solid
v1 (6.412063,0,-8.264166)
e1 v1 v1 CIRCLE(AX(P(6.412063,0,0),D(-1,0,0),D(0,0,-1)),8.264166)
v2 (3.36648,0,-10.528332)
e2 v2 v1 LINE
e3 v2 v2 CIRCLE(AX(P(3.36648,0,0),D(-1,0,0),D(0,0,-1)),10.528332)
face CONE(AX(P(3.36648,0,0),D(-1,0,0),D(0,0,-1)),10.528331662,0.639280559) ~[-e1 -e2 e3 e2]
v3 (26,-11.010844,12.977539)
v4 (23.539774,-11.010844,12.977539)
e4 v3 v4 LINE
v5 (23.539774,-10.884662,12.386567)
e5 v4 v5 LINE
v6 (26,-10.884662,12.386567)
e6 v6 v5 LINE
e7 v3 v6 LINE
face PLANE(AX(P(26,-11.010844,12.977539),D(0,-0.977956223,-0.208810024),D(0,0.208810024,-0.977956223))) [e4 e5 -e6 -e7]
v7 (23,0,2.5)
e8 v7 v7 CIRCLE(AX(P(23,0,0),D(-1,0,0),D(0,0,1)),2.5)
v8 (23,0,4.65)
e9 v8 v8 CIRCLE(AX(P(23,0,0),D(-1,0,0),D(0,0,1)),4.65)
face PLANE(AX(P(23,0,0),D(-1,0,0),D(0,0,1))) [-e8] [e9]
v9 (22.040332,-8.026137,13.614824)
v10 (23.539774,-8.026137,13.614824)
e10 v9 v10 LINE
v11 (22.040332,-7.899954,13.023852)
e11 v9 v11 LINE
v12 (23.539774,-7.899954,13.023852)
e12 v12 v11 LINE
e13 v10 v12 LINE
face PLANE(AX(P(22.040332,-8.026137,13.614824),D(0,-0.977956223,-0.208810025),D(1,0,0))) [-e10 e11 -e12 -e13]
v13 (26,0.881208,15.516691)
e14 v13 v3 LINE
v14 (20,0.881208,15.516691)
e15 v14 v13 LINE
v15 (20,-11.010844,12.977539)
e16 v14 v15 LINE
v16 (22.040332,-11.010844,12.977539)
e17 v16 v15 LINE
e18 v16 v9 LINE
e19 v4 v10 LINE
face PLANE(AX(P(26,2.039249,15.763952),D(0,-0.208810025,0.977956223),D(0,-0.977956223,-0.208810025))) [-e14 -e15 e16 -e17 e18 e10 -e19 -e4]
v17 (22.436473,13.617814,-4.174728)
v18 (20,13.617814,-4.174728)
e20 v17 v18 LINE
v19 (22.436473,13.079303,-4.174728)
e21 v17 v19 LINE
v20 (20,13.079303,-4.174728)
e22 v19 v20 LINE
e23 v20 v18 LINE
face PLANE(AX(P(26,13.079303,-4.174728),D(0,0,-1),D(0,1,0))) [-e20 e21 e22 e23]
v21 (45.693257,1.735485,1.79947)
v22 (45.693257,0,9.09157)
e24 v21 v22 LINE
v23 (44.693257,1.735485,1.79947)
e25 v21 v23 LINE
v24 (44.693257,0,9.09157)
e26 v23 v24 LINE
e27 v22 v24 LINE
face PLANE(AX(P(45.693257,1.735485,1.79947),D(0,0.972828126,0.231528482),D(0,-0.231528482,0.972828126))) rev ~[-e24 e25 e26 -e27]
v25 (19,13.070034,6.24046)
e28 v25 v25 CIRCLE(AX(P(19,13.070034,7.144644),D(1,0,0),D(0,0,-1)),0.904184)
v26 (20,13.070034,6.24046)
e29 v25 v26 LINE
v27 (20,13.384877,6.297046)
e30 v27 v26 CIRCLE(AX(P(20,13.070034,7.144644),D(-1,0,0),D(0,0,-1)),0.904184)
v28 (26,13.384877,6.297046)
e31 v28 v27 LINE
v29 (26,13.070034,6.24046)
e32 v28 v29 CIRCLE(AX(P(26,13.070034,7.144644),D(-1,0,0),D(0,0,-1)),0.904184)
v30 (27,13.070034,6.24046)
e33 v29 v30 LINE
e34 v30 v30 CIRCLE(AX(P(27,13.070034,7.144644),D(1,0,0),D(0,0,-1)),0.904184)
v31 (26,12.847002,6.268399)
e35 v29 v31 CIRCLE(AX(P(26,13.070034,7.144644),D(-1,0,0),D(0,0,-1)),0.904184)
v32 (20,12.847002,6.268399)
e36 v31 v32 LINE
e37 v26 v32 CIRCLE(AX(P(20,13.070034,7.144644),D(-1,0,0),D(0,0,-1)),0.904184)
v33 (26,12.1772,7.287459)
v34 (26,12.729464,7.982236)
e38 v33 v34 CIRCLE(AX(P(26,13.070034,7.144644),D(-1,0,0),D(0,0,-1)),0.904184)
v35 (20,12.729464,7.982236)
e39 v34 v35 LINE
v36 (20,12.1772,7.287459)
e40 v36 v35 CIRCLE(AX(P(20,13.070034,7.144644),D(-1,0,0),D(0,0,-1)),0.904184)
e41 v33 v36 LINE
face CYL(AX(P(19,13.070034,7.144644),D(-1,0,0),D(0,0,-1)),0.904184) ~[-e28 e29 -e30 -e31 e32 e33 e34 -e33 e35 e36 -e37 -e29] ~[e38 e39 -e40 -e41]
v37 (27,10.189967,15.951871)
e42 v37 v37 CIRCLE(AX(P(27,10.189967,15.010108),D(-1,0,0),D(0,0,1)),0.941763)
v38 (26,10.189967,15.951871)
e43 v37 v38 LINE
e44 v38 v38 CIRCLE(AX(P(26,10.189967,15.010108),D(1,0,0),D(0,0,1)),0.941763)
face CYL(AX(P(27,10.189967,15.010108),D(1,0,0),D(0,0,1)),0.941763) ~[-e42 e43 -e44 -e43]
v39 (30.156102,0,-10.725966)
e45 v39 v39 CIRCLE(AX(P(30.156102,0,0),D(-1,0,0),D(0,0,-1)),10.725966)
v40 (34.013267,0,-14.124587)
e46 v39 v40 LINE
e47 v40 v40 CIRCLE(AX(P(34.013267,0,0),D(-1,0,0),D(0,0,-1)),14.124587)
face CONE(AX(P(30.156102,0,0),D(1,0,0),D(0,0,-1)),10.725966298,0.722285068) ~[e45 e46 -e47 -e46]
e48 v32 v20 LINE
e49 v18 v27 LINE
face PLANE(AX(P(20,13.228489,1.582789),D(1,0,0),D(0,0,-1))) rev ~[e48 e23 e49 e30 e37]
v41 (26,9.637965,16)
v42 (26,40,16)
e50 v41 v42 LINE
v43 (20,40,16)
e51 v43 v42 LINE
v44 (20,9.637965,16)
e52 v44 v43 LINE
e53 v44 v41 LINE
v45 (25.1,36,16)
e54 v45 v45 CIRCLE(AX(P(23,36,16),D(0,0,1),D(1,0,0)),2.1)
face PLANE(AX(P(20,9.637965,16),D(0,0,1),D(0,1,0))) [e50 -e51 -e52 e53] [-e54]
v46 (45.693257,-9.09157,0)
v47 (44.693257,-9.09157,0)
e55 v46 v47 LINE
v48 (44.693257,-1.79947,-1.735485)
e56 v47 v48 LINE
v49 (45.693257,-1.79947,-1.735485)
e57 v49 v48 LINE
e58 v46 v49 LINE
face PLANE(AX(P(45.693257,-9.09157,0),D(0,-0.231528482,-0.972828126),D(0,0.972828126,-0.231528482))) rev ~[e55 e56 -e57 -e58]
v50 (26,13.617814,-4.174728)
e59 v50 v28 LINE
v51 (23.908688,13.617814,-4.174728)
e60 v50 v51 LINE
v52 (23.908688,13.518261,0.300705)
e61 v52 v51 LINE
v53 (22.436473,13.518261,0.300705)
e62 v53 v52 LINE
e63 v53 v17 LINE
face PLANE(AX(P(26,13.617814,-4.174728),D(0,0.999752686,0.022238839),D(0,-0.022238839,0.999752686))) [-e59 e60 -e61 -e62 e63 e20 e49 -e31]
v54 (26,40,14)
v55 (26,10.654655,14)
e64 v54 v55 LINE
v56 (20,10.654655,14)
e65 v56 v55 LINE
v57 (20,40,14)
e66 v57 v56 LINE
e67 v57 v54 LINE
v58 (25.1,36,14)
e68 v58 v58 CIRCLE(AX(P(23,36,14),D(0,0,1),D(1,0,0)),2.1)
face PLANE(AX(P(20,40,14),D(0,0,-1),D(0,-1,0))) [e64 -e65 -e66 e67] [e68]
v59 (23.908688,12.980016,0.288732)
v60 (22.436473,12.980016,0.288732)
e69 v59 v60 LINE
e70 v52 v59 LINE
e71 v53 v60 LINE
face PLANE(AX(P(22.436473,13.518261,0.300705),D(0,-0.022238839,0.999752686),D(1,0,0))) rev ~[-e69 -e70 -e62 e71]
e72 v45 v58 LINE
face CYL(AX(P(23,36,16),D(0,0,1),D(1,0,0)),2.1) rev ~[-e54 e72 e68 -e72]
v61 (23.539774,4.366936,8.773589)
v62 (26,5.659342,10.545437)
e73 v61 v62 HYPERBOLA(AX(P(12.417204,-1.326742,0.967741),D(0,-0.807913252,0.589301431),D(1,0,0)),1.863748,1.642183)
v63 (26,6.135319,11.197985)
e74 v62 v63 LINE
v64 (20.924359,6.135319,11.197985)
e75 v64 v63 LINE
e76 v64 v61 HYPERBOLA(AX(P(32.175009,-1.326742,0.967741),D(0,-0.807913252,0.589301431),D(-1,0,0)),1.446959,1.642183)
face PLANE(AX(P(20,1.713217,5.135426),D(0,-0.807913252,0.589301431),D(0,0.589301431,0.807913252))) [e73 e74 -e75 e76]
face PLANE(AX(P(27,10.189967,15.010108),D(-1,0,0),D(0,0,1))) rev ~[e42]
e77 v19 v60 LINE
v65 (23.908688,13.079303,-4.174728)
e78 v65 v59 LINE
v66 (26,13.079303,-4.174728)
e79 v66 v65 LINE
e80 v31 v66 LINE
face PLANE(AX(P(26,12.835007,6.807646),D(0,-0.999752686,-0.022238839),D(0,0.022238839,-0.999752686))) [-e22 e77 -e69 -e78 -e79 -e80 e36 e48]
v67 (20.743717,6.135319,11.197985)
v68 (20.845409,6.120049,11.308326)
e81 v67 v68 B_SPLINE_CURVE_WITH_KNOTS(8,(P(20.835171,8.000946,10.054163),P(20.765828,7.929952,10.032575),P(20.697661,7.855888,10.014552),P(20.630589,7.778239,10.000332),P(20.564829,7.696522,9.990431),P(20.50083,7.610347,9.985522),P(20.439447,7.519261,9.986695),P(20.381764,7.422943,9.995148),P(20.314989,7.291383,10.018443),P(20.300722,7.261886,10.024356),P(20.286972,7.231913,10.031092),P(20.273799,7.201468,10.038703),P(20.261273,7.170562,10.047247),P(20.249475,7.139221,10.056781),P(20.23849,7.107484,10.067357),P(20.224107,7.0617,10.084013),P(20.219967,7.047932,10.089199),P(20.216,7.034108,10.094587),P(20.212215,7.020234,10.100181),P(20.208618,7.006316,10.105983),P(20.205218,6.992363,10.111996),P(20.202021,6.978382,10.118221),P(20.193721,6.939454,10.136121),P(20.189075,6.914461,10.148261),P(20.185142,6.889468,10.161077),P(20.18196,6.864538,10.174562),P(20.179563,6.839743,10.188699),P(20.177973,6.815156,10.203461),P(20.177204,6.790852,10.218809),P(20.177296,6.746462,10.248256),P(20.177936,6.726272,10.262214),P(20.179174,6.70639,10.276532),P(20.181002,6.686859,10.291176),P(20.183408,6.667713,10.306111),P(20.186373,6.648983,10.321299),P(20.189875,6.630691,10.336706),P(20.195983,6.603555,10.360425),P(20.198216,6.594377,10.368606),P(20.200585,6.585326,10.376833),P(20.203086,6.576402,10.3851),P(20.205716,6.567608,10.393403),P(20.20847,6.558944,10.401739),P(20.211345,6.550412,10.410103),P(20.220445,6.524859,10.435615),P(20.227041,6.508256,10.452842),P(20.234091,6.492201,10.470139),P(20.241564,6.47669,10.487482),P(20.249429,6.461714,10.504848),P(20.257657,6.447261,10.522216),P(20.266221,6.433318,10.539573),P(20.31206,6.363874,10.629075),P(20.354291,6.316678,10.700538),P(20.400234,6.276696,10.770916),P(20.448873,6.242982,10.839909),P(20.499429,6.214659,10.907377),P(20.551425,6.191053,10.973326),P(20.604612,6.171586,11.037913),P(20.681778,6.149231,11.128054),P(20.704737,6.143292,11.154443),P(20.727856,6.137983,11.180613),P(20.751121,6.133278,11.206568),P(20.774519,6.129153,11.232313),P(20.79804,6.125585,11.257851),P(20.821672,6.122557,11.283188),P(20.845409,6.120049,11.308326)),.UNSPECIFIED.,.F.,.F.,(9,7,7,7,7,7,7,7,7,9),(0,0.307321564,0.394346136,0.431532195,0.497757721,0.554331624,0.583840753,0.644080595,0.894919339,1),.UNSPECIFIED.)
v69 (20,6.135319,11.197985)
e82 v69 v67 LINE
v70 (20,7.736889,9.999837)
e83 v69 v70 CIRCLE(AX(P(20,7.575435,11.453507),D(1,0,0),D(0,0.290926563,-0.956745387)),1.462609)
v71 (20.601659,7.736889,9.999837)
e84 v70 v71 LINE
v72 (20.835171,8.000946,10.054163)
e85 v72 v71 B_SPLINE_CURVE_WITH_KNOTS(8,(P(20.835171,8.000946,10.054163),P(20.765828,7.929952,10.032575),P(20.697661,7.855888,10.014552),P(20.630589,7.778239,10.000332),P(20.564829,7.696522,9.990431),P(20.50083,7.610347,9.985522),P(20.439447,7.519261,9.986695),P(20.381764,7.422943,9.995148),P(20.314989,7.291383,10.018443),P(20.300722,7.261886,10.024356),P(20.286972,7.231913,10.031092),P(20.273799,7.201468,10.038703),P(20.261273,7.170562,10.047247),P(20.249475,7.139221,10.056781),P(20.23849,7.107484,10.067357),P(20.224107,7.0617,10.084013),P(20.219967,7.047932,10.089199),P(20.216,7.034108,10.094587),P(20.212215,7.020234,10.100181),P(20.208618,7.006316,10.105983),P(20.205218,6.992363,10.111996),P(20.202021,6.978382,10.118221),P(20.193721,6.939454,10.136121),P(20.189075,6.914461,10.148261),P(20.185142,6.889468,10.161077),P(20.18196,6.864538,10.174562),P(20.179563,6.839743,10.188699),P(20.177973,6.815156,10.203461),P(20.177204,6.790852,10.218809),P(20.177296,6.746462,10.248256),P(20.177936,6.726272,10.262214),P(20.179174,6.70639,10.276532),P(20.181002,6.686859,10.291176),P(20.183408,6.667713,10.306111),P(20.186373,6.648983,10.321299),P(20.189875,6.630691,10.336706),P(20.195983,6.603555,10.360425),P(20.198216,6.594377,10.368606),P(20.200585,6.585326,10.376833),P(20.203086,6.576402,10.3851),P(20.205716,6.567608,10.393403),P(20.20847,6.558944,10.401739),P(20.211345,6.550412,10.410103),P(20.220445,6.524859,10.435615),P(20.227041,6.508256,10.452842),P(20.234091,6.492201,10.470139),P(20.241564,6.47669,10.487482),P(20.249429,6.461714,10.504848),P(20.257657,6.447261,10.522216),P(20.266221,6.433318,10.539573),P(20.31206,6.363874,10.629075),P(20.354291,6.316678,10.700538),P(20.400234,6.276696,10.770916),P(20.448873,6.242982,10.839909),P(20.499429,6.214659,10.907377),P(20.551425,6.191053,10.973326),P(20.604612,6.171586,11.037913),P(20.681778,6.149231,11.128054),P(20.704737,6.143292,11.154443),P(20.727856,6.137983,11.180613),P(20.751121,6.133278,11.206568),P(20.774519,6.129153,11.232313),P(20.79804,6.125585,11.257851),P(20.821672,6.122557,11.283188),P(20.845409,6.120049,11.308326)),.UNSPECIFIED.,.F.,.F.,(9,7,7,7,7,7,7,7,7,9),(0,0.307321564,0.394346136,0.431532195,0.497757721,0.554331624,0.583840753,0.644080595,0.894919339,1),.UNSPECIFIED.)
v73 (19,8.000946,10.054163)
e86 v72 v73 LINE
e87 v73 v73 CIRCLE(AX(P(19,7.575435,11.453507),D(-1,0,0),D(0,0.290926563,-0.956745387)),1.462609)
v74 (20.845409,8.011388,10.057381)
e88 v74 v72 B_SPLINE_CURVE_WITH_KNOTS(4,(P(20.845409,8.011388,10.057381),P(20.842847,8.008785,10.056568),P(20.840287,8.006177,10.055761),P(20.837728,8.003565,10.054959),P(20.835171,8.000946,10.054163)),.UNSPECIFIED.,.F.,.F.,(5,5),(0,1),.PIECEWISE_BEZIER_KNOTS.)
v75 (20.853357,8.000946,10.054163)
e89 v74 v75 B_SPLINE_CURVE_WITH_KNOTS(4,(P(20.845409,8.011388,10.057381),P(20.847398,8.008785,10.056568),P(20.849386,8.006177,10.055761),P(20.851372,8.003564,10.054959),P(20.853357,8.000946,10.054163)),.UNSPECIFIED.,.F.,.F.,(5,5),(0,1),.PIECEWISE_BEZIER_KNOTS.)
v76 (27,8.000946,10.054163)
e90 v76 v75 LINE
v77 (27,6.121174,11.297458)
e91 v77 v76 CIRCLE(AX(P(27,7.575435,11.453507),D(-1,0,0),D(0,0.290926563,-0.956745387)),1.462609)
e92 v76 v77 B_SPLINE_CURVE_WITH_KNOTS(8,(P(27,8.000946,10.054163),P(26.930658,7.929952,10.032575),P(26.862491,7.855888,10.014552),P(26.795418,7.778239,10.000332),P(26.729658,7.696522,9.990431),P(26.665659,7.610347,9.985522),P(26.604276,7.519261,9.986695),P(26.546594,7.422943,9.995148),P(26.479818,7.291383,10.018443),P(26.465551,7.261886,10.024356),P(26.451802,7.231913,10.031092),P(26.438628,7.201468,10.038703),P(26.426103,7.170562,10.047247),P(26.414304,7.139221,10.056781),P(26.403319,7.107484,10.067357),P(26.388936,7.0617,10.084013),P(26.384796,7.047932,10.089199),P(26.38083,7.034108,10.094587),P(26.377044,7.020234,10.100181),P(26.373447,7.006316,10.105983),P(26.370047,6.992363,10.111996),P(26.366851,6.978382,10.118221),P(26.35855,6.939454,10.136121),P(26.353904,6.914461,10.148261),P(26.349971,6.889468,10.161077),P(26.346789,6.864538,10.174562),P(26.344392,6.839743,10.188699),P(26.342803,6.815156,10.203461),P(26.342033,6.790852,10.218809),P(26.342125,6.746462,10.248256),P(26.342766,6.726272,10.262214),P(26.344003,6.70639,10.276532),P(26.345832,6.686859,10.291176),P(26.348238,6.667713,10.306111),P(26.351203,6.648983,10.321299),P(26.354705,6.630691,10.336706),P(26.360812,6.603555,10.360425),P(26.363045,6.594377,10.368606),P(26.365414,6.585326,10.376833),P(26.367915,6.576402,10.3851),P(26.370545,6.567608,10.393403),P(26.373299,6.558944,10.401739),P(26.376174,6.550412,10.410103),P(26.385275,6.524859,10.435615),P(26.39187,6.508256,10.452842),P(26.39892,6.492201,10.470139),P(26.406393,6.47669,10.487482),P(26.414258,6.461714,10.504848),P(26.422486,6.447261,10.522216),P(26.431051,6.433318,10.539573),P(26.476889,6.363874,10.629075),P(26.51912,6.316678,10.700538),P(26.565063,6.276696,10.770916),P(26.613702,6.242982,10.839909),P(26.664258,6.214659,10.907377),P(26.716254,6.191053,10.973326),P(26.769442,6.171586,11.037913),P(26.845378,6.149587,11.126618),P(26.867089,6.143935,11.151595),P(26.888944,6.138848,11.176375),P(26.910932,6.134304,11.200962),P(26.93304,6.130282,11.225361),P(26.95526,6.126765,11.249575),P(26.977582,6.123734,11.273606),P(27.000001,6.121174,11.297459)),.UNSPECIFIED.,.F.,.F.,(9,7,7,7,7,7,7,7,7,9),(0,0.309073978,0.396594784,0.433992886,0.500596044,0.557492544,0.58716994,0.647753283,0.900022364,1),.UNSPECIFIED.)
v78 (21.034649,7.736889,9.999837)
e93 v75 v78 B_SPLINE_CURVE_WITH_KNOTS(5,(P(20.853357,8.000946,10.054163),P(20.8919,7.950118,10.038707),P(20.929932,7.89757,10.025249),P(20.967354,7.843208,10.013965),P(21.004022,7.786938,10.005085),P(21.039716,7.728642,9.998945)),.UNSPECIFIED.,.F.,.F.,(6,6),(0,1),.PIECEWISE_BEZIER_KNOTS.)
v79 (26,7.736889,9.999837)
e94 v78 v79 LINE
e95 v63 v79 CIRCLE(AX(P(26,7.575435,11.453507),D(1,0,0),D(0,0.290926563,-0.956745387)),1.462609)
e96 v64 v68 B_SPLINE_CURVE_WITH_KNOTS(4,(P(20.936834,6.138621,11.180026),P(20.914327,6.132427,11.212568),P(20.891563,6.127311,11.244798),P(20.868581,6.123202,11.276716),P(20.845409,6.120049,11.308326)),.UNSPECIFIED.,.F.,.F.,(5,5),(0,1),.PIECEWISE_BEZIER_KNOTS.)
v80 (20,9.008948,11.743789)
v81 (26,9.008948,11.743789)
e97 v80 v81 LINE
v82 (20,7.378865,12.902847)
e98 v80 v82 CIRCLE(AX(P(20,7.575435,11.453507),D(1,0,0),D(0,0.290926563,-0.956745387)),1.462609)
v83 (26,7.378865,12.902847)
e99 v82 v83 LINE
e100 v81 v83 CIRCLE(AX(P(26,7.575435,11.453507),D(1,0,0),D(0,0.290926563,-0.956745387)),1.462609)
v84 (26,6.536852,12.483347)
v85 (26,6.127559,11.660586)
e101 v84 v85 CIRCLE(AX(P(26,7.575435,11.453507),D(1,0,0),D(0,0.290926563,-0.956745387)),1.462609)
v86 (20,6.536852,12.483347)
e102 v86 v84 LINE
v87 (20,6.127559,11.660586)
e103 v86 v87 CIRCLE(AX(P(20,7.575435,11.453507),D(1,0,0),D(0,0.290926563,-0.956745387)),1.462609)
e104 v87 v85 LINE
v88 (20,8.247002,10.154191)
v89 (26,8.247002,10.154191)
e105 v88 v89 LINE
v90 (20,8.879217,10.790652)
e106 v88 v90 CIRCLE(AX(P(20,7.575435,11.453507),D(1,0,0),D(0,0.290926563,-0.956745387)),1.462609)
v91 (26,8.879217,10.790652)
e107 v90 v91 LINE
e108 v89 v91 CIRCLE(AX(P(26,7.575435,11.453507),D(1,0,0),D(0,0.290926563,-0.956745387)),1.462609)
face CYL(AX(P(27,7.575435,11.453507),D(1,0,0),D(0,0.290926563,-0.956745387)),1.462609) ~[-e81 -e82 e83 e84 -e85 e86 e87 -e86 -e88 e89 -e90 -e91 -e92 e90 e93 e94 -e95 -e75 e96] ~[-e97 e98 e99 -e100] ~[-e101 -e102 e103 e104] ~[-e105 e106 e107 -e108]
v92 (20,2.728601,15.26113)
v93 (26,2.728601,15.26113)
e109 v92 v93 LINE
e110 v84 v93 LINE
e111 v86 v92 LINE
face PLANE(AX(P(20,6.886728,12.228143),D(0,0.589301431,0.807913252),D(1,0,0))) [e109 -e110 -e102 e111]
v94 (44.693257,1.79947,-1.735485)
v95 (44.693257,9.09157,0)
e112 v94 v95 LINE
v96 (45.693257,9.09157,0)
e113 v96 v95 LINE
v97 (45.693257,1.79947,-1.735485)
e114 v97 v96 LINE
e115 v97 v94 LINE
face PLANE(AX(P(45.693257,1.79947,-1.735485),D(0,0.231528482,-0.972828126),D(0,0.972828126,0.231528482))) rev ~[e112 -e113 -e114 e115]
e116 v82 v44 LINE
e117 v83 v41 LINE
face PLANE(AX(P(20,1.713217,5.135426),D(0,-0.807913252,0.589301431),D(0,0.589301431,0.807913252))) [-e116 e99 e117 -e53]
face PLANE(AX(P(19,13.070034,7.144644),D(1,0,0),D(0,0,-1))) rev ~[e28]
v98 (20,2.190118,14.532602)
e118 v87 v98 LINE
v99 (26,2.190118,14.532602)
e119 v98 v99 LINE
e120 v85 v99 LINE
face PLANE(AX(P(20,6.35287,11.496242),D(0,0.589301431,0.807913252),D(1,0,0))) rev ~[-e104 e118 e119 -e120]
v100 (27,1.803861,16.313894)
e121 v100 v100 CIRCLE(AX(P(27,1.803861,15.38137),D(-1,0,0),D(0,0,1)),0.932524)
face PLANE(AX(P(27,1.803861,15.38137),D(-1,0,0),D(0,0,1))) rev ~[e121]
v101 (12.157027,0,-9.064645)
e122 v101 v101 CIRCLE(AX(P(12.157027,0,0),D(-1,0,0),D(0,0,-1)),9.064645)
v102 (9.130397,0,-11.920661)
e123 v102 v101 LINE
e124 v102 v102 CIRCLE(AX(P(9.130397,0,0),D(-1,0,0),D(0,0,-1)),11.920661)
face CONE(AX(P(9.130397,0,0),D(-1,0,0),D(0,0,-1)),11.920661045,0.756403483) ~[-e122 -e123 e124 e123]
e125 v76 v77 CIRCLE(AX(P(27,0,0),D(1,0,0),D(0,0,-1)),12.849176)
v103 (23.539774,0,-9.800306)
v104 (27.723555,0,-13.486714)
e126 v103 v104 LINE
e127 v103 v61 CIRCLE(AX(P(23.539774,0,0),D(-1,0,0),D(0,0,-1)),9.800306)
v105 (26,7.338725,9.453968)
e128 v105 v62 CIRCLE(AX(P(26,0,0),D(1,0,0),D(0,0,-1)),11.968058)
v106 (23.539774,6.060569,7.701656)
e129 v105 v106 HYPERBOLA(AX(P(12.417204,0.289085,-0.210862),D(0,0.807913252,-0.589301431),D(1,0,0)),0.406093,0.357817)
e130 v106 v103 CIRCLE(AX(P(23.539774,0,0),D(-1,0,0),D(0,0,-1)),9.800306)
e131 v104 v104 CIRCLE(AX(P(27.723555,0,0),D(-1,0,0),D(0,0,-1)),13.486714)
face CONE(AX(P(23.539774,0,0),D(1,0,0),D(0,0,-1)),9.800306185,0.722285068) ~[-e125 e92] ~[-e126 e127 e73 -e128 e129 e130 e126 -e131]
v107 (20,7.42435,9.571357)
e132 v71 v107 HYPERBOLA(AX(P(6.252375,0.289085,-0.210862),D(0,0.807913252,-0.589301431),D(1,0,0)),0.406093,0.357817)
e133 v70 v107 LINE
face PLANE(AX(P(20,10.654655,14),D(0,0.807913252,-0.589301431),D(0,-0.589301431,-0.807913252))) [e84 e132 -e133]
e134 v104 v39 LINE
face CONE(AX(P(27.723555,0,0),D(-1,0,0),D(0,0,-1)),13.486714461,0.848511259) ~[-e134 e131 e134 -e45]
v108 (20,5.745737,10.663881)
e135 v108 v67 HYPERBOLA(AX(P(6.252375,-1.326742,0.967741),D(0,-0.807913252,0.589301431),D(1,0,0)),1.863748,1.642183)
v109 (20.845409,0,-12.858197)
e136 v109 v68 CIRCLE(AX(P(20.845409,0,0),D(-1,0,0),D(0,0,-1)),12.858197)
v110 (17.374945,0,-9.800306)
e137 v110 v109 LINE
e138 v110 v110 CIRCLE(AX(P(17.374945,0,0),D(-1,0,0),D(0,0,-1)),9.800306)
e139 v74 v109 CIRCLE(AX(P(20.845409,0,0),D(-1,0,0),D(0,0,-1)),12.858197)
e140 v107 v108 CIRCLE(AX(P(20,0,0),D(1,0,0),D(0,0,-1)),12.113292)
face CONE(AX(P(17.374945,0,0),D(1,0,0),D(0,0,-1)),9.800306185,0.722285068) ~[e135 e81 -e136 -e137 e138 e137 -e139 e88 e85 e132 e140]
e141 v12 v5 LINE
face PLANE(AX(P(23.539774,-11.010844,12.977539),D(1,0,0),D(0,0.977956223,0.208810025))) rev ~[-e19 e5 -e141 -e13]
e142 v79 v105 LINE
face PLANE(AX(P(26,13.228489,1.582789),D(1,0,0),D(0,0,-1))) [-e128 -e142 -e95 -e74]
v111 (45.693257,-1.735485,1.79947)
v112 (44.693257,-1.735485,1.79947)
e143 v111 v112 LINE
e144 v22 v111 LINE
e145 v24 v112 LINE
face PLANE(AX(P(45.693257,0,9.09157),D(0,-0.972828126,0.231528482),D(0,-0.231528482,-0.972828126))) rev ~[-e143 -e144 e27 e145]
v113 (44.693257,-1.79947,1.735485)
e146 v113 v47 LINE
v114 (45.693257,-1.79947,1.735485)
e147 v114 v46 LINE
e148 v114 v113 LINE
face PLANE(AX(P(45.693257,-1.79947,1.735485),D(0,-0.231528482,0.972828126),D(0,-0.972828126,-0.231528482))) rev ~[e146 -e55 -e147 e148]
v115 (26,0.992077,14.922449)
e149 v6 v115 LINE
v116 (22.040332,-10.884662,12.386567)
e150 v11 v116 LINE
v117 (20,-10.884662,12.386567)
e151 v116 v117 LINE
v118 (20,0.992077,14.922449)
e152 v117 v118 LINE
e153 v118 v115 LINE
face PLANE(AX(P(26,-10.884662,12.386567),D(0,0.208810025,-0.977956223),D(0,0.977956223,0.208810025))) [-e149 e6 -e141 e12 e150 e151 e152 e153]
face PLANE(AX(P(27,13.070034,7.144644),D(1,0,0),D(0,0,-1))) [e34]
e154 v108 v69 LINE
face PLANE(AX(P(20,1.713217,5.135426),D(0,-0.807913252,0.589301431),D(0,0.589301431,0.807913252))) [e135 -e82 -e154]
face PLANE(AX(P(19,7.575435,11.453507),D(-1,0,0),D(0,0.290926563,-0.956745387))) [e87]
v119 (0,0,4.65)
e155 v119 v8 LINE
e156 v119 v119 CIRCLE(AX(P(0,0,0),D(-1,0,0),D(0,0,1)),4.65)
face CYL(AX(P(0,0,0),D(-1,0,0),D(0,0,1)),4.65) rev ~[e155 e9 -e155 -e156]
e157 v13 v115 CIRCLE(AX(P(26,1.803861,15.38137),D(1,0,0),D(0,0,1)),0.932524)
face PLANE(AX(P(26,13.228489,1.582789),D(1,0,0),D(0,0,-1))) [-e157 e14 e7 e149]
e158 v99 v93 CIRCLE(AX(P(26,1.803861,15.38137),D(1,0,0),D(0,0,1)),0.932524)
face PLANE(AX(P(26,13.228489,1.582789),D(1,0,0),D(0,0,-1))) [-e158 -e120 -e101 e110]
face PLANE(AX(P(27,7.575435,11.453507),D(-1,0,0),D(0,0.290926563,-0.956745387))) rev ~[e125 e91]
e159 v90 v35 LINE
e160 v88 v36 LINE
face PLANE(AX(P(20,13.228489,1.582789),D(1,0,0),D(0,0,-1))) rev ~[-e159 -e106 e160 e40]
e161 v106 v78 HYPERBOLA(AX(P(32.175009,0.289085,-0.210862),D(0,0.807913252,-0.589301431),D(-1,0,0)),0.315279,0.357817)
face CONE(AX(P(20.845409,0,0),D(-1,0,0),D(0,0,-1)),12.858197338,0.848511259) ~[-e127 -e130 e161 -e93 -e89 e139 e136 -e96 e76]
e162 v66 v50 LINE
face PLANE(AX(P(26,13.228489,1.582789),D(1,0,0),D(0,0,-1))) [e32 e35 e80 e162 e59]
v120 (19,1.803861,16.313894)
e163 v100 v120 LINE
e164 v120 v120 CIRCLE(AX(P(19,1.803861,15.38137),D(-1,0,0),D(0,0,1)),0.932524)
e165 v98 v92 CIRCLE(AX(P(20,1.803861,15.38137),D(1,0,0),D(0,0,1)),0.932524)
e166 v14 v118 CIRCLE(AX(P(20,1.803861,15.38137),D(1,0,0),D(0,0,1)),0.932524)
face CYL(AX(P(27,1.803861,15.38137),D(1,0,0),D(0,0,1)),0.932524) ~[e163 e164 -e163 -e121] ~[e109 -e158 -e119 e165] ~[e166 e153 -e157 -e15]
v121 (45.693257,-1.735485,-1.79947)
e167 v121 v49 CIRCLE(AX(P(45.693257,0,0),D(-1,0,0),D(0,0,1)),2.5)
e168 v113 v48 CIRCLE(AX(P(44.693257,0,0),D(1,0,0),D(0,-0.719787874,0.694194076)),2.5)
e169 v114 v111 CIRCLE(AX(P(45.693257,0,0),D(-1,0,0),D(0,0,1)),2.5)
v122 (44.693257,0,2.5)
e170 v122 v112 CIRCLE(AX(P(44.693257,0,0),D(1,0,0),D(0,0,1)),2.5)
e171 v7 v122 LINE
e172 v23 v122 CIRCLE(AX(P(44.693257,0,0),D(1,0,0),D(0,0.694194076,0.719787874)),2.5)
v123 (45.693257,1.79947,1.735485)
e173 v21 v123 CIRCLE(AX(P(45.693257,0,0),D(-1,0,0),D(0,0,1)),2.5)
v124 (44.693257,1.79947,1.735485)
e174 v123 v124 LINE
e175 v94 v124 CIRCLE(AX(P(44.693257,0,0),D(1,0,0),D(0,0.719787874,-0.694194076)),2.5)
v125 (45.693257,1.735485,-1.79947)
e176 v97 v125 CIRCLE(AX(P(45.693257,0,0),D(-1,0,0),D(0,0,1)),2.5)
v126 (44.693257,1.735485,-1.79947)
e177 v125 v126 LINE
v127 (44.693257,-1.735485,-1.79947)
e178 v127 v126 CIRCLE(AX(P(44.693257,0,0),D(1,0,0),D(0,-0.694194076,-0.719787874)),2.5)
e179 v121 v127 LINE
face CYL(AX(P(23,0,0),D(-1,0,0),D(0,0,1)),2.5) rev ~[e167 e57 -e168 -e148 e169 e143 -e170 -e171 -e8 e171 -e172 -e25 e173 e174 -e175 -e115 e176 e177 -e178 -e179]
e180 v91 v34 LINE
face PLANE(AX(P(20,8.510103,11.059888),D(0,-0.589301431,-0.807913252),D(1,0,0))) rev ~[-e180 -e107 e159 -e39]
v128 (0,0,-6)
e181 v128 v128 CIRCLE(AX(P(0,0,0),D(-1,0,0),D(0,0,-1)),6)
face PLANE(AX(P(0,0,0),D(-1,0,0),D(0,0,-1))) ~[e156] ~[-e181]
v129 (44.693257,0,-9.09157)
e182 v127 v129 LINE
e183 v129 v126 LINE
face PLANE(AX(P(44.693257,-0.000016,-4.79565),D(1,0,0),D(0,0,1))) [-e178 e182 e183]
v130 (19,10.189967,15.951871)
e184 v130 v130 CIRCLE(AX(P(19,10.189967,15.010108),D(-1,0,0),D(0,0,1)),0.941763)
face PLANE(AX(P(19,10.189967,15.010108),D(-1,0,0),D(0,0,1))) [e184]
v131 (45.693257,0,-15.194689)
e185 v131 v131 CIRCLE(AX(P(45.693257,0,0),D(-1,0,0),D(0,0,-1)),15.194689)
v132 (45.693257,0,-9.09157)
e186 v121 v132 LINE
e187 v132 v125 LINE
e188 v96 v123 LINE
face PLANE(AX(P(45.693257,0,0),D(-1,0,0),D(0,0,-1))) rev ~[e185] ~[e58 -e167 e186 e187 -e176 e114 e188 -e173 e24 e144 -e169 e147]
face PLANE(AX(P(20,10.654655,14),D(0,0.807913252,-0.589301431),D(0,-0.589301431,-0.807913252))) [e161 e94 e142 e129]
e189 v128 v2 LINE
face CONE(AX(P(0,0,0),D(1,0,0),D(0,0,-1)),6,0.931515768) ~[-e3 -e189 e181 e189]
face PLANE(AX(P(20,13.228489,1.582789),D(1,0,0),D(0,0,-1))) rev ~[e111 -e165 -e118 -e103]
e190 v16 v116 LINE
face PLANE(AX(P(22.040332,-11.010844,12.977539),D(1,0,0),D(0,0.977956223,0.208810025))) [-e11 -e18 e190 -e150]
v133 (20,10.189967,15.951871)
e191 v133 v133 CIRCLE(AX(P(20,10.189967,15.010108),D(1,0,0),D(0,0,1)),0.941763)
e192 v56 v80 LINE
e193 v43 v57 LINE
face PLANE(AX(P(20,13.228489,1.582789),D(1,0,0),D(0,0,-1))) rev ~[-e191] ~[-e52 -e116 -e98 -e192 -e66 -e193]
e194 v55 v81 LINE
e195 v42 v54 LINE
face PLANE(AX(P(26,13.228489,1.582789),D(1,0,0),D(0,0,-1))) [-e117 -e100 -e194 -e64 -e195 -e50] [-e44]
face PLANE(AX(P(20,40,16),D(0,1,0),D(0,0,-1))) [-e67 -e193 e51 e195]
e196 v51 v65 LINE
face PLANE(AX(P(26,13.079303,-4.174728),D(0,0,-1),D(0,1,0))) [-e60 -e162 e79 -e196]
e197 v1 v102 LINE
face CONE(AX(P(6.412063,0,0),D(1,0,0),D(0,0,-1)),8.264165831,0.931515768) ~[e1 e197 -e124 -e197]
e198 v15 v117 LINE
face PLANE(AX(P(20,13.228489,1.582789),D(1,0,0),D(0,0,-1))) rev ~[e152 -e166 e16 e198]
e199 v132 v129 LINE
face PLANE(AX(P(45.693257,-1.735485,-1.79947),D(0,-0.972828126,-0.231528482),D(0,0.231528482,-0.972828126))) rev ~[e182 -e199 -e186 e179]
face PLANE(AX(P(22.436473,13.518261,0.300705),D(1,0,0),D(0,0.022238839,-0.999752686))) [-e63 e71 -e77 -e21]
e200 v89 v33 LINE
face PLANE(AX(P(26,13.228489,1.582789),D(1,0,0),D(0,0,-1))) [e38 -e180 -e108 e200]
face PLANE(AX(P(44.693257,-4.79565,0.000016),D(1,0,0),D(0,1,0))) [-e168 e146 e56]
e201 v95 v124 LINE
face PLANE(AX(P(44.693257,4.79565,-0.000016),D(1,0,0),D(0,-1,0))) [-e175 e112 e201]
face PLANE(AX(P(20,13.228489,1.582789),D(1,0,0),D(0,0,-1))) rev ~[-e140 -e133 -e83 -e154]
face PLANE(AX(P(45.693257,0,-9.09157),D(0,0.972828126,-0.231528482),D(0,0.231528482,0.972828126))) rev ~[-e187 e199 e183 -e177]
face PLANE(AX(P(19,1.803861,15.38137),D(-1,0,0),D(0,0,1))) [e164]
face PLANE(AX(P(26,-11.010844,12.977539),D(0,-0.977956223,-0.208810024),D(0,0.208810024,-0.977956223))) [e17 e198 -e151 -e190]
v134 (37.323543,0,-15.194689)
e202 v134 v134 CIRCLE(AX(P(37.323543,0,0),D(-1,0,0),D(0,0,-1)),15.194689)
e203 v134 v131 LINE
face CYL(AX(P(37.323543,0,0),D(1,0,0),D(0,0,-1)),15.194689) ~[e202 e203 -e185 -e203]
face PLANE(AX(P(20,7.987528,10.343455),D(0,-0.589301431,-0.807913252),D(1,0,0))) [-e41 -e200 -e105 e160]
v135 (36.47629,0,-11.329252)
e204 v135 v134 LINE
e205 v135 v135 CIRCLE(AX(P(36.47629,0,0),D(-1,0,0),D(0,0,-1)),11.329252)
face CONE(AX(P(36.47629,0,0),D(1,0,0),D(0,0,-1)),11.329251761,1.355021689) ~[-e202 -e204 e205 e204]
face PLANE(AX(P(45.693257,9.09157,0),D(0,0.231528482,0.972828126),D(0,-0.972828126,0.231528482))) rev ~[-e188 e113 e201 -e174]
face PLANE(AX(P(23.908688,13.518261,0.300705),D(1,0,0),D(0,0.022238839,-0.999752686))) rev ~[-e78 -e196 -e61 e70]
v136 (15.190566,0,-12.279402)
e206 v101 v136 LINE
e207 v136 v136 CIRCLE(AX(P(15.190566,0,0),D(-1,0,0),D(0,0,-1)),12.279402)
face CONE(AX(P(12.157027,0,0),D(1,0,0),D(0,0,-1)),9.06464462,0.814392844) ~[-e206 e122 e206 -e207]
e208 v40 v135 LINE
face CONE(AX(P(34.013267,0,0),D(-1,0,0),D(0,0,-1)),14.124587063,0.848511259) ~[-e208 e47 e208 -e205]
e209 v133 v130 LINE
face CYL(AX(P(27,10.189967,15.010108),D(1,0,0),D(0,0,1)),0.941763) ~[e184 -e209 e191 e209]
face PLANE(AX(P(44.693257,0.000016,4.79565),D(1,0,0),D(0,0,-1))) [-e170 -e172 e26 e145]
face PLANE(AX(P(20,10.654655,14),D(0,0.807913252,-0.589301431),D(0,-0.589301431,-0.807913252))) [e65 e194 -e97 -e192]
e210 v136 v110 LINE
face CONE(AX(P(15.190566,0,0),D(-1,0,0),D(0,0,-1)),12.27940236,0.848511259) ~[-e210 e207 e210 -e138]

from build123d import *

# Parameters (mm, degrees)
SKIZZE3_R                             = 4.65
SCHNITT_LINEAR_AUSTRAGEN1_DEPTH       = 23
SKIZZE4_R                             = 2.5
SCHNITT_LINEAR_AUSTRAGEN2_DEPTH       = 32.476295332
AUFSATZ_LINEAR_AUSTRAGEN2_DEPTH       = 6
SKIZZE10_R                            = 2.1
SCHNITT_LINEAR_AUSTRAGEN4_DEPTH       = 6
SKIZZE13_W                            = 6
SKIZZE13_H                            = 0.905916259
AUFSATZ_LINEAR_AUSTRAGEN3_DEPTH       = 6
SKIZZE14_W                            = 6
SKIZZE14_H                            = 0.886770142
AUFSATZ_LINEAR_AUSTRAGEN4_DEPTH       = 6
AUFSATZ_LINEAR_AUSTRAGEN5_DEPTH       = 6
AUFSATZ_LINEAR_AUSTRAGEN6_DEPTH       = 6
SCHNITT_LINEAR_AUSTRAGEN5_DEPTH       = 1
KREISMUSTER1_COUNT                    = 4
AUFSATZ_LINEAR_AUSTRAGEN7_DEPTH       = 1
AUFSATZ_LINEAR_AUSTRAGEN7_DEPTH_BACK  = 7
SKIZZE24_R                            = 1.46260877
AUFSATZ_LINEAR_AUSTRAGEN8_DEPTH       = 1
AUFSATZ_LINEAR_AUSTRAGEN8_DEPTH_BACK  = 7
SKIZZE25_R                            = 0.941763398
AUFSATZ_LINEAR_AUSTRAGEN9_DEPTH       = 1
AUFSATZ_LINEAR_AUSTRAGEN9_DEPTH_BACK  = 7
SKIZZE26_R                            = 0.9041841
AUFSATZ_LINEAR_AUSTRAGEN10_DEPTH      = 1
AUFSATZ_LINEAR_AUSTRAGEN10_DEPTH_BACK = 7
SKIZZE27_R                            = 0.932524048
SKIZZE28_W                            = 1.499442475
SKIZZE28_H                            = 3.05198511
SCHNITT_LINEAR_AUSTRAGEN6_DEPTH       = 2
SKIZZE29_W                            = 1.472214026
SKIZZE29_H                            = 4.476539639
SCHNITT_LINEAR_AUSTRAGEN7_DEPTH       = 0.6


with BuildPart() as part:
    # Skizze2 → Rotation5 (revolve)
    with BuildSketch(Plane.XY, mode=Mode.PRIVATE) as rotation5_sk:
        Polygon((0, 0), (0, 6), (3.36648022, 10.528331662), (6.412062892, 8.264165831), (9.130397088, 11.920661045), (12.157026773, 9.06464462), (15.190566342, 12.27940236), (17.374944781, 9.800306185), (20.845408565, 12.858197338), (23.539774185, 9.800306185), (27.723555025, 13.486714461), (30.156102347, 10.725966298), (34.013267201, 14.124587063), (36.476289904, 11.329251761), (37.323543296, 15.194689333), (45.693256891, 15.194689333), (45.693256891, 0), (40, 0), align=None)
    revolve(rotation5_sk.sketch.rotate(Axis((45.693256891, 0, 0), (-1, 0, 0)), 90), axis=Axis((45.693256891, 0, 0), (-1, 0, 0)))

    # Skizze3 → Schnitt-Linear austragen1 (cut)
    with BuildSketch(Plane.ZY):
        Circle(SKIZZE3_R)
    extrude(amount=-SCHNITT_LINEAR_AUSTRAGEN1_DEPTH, mode=Mode.SUBTRACT)

    # Skizze4 → Schnitt-Linear austragen2 (cut, through all)
    with BuildSketch(Plane.ZY.offset(-23)):
        Circle(SKIZZE4_R)
    extrude(amount=-SCHNITT_LINEAR_AUSTRAGEN2_DEPTH, mode=Mode.SUBTRACT)

    # Skizze8 → Aufsatz-Linear austragen2 (add)
    with BuildSketch(Plane.ZY.offset(-20)):
        Polygon((5.135425827, 1.713216567), (16, 9.637964787), (16, 40), (14, 40), (14, 10.654654556), (3.956822965, 3.329043072), align=None)
    extrude(amount=-AUFSATZ_LINEAR_AUSTRAGEN2_DEPTH)

    # Skizze10 → Schnitt-Linear austragen4 (cut)
    with BuildSketch(Plane.XY.offset(16)):
        with Locations((23, 36)):
            Circle(SKIZZE10_R)
    extrude(amount=-SCHNITT_LINEAR_AUSTRAGEN4_DEPTH, mode=Mode.SUBTRACT)

    # Skizze13 → Aufsatz-Linear austragen3 (add)
    with BuildSketch(Plane(origin=(0, -1.326741748, 0.96774104), x_dir=(1, 0, 0), z_dir=(-4.115069899356744e-15, -0.8079132523298957, 0.5893014311112186))):
        with Locations((23, 13.484679747)):
            Rectangle(SKIZZE13_W, SKIZZE13_H)
    extrude(amount=AUFSATZ_LINEAR_AUSTRAGEN3_DEPTH)

    # Skizze14 → Aufsatz-Linear austragen4 (add)
    with BuildSketch(Plane(origin=(0, 0.289084756, -0.210861822), x_dir=(1, 0, 0), z_dir=(4.115069899356744e-15, 0.807913252329896, -0.5893014311112185))):
        with Locations((23, -13.507060971)):
            Rectangle(SKIZZE14_W, SKIZZE14_H)
    extrude(amount=AUFSATZ_LINEAR_AUSTRAGEN4_DEPTH)

    # Skizze16 → Aufsatz-Linear austragen5 (add)
    with BuildSketch(Plane(origin=(26, 0, 0), x_dir=(0, 0, -1), z_dir=(1, 0, 0))):
        Polygon((-15.763951974, 2.039248685), (-12.977538642, -11.010844393), (-12.386566519, -10.884661952), (-15.032050222, 1.505390937), align=None)
    extrude(amount=-AUFSATZ_LINEAR_AUSTRAGEN5_DEPTH)

    # Skizze17 → Aufsatz-Linear austragen6 (add)
    with BuildSketch(Plane(origin=(26, 0, 0), x_dir=(0, 0, -1), z_dir=(1, 0, 0))):
        Polygon((-6.807646475, 12.835007174), (4.174727727, 13.079302841), (4.174727727, 13.617814342), (-7.524079824, 13.357582087), align=None)
    extrude(amount=-AUFSATZ_LINEAR_AUSTRAGEN6_DEPTH)

    # Skizze19 → Schnitt-Linear austragen5 (cut)
    with BuildSketch(Plane(origin=(45.693256891, 0, 0), x_dir=(0, 0, -1), z_dir=(1, 0, 0))):
        Polygon((-1.799469686, 1.735485191), (-9.091569519, 0), (-1.799469686, -1.735485191), (-2.158394422, -1.261480685), (-2.415859445, -0.6431354), (-2.5, 0), (-2.408587239, 0.669856338), (-2.158394422, 1.261480685), align=None)
    schnitt_linear_austragen5 = extrude(amount=-SCHNITT_LINEAR_AUSTRAGEN5_DEPTH, mode=Mode.SUBTRACT)

    # Kreismuster1: Schnitt-Linear austragen5 ×4 about axis
    kreismuster1_axis = Axis((0, 0, 0), (1, 0, 0))
    for i in range(1, KREISMUSTER1_COUNT):
        add(schnitt_linear_austragen5.rotate(kreismuster1_axis, i * 360 / KREISMUSTER1_COUNT), mode=Mode.SUBTRACT)

    # Skizze24 → Aufsatz-Linear austragen7 (add, two sides: drawn at the far end of the back side and taken through both)
    with BuildSketch(Plane.ZY.offset(-20).offset(-AUFSATZ_LINEAR_AUSTRAGEN7_DEPTH_BACK)):
        with Locations(Location((11.453507252, 7.575434524, 0), (0, 0, 163.086563891))):
            Circle(SKIZZE24_R)
    extrude(amount=AUFSATZ_LINEAR_AUSTRAGEN7_DEPTH + AUFSATZ_LINEAR_AUSTRAGEN7_DEPTH_BACK)

    # Skizze25 → Aufsatz-Linear austragen8 (add, two sides: drawn at the far end of the back side and taken through both)
    with BuildSketch(Plane.ZY.offset(-20).offset(-AUFSATZ_LINEAR_AUSTRAGEN8_DEPTH_BACK)):
        with Locations((15.010107877, 10.189967275)):
            Circle(SKIZZE25_R)
    extrude(amount=AUFSATZ_LINEAR_AUSTRAGEN8_DEPTH + AUFSATZ_LINEAR_AUSTRAGEN8_DEPTH_BACK)

    # Skizze26 → Aufsatz-Linear austragen9 (add, two sides: drawn at the far end of the back side and taken through both)
    with BuildSketch(Plane(origin=(26, 0, 0), x_dir=(0, 0, -1), z_dir=(1, 0, 0)).offset(-AUFSATZ_LINEAR_AUSTRAGEN9_DEPTH_BACK)):
        with Locations((-7.144644053, 13.070033864)):
            Circle(SKIZZE26_R)
    extrude(amount=AUFSATZ_LINEAR_AUSTRAGEN9_DEPTH + AUFSATZ_LINEAR_AUSTRAGEN9_DEPTH_BACK)

    # Skizze27 → Aufsatz-Linear austragen10 (add, two sides: drawn at the far end of the back side and taken through both)
    with BuildSketch(Plane.ZY.offset(-20).offset(-AUFSATZ_LINEAR_AUSTRAGEN10_DEPTH_BACK)):
        with Locations((15.381369531, 1.80386132)):
            Circle(SKIZZE27_R)
    extrude(amount=AUFSATZ_LINEAR_AUSTRAGEN10_DEPTH + AUFSATZ_LINEAR_AUSTRAGEN10_DEPTH_BACK)

    # Skizze28 → Schnitt-Linear austragen6 (cut)
    with BuildSketch(Plane(origin=(0, -3.130195775, 14.660189045), x_dir=(1, 0, 0), z_dir=(-6.370898410720916e-15, -0.20881002467257814, 0.9779562227401783))):
        with Locations((22.790052948, -6.532291073)):
            Rectangle(SKIZZE28_W, SKIZZE28_H)
    extrude(amount=-SCHNITT_LINEAR_AUSTRAGEN6_DEPTH, mode=Mode.SUBTRACT)

    # Skizze29 → Schnitt-Linear austragen7 (cut)
    with BuildSketch(Plane(origin=(0, 13.518261299, 0.300704803), x_dir=(1, 0, 0), z_dir=(0, 0.9997526864415556, 0.022238838838681812))):
        with Locations((23.172580504, 2.23826982)):
            Rectangle(SKIZZE29_W, SKIZZE29_H)
    extrude(amount=-SCHNITT_LINEAR_AUSTRAGEN7_DEPTH, mode=Mode.SUBTRACT)


solid = part.part
